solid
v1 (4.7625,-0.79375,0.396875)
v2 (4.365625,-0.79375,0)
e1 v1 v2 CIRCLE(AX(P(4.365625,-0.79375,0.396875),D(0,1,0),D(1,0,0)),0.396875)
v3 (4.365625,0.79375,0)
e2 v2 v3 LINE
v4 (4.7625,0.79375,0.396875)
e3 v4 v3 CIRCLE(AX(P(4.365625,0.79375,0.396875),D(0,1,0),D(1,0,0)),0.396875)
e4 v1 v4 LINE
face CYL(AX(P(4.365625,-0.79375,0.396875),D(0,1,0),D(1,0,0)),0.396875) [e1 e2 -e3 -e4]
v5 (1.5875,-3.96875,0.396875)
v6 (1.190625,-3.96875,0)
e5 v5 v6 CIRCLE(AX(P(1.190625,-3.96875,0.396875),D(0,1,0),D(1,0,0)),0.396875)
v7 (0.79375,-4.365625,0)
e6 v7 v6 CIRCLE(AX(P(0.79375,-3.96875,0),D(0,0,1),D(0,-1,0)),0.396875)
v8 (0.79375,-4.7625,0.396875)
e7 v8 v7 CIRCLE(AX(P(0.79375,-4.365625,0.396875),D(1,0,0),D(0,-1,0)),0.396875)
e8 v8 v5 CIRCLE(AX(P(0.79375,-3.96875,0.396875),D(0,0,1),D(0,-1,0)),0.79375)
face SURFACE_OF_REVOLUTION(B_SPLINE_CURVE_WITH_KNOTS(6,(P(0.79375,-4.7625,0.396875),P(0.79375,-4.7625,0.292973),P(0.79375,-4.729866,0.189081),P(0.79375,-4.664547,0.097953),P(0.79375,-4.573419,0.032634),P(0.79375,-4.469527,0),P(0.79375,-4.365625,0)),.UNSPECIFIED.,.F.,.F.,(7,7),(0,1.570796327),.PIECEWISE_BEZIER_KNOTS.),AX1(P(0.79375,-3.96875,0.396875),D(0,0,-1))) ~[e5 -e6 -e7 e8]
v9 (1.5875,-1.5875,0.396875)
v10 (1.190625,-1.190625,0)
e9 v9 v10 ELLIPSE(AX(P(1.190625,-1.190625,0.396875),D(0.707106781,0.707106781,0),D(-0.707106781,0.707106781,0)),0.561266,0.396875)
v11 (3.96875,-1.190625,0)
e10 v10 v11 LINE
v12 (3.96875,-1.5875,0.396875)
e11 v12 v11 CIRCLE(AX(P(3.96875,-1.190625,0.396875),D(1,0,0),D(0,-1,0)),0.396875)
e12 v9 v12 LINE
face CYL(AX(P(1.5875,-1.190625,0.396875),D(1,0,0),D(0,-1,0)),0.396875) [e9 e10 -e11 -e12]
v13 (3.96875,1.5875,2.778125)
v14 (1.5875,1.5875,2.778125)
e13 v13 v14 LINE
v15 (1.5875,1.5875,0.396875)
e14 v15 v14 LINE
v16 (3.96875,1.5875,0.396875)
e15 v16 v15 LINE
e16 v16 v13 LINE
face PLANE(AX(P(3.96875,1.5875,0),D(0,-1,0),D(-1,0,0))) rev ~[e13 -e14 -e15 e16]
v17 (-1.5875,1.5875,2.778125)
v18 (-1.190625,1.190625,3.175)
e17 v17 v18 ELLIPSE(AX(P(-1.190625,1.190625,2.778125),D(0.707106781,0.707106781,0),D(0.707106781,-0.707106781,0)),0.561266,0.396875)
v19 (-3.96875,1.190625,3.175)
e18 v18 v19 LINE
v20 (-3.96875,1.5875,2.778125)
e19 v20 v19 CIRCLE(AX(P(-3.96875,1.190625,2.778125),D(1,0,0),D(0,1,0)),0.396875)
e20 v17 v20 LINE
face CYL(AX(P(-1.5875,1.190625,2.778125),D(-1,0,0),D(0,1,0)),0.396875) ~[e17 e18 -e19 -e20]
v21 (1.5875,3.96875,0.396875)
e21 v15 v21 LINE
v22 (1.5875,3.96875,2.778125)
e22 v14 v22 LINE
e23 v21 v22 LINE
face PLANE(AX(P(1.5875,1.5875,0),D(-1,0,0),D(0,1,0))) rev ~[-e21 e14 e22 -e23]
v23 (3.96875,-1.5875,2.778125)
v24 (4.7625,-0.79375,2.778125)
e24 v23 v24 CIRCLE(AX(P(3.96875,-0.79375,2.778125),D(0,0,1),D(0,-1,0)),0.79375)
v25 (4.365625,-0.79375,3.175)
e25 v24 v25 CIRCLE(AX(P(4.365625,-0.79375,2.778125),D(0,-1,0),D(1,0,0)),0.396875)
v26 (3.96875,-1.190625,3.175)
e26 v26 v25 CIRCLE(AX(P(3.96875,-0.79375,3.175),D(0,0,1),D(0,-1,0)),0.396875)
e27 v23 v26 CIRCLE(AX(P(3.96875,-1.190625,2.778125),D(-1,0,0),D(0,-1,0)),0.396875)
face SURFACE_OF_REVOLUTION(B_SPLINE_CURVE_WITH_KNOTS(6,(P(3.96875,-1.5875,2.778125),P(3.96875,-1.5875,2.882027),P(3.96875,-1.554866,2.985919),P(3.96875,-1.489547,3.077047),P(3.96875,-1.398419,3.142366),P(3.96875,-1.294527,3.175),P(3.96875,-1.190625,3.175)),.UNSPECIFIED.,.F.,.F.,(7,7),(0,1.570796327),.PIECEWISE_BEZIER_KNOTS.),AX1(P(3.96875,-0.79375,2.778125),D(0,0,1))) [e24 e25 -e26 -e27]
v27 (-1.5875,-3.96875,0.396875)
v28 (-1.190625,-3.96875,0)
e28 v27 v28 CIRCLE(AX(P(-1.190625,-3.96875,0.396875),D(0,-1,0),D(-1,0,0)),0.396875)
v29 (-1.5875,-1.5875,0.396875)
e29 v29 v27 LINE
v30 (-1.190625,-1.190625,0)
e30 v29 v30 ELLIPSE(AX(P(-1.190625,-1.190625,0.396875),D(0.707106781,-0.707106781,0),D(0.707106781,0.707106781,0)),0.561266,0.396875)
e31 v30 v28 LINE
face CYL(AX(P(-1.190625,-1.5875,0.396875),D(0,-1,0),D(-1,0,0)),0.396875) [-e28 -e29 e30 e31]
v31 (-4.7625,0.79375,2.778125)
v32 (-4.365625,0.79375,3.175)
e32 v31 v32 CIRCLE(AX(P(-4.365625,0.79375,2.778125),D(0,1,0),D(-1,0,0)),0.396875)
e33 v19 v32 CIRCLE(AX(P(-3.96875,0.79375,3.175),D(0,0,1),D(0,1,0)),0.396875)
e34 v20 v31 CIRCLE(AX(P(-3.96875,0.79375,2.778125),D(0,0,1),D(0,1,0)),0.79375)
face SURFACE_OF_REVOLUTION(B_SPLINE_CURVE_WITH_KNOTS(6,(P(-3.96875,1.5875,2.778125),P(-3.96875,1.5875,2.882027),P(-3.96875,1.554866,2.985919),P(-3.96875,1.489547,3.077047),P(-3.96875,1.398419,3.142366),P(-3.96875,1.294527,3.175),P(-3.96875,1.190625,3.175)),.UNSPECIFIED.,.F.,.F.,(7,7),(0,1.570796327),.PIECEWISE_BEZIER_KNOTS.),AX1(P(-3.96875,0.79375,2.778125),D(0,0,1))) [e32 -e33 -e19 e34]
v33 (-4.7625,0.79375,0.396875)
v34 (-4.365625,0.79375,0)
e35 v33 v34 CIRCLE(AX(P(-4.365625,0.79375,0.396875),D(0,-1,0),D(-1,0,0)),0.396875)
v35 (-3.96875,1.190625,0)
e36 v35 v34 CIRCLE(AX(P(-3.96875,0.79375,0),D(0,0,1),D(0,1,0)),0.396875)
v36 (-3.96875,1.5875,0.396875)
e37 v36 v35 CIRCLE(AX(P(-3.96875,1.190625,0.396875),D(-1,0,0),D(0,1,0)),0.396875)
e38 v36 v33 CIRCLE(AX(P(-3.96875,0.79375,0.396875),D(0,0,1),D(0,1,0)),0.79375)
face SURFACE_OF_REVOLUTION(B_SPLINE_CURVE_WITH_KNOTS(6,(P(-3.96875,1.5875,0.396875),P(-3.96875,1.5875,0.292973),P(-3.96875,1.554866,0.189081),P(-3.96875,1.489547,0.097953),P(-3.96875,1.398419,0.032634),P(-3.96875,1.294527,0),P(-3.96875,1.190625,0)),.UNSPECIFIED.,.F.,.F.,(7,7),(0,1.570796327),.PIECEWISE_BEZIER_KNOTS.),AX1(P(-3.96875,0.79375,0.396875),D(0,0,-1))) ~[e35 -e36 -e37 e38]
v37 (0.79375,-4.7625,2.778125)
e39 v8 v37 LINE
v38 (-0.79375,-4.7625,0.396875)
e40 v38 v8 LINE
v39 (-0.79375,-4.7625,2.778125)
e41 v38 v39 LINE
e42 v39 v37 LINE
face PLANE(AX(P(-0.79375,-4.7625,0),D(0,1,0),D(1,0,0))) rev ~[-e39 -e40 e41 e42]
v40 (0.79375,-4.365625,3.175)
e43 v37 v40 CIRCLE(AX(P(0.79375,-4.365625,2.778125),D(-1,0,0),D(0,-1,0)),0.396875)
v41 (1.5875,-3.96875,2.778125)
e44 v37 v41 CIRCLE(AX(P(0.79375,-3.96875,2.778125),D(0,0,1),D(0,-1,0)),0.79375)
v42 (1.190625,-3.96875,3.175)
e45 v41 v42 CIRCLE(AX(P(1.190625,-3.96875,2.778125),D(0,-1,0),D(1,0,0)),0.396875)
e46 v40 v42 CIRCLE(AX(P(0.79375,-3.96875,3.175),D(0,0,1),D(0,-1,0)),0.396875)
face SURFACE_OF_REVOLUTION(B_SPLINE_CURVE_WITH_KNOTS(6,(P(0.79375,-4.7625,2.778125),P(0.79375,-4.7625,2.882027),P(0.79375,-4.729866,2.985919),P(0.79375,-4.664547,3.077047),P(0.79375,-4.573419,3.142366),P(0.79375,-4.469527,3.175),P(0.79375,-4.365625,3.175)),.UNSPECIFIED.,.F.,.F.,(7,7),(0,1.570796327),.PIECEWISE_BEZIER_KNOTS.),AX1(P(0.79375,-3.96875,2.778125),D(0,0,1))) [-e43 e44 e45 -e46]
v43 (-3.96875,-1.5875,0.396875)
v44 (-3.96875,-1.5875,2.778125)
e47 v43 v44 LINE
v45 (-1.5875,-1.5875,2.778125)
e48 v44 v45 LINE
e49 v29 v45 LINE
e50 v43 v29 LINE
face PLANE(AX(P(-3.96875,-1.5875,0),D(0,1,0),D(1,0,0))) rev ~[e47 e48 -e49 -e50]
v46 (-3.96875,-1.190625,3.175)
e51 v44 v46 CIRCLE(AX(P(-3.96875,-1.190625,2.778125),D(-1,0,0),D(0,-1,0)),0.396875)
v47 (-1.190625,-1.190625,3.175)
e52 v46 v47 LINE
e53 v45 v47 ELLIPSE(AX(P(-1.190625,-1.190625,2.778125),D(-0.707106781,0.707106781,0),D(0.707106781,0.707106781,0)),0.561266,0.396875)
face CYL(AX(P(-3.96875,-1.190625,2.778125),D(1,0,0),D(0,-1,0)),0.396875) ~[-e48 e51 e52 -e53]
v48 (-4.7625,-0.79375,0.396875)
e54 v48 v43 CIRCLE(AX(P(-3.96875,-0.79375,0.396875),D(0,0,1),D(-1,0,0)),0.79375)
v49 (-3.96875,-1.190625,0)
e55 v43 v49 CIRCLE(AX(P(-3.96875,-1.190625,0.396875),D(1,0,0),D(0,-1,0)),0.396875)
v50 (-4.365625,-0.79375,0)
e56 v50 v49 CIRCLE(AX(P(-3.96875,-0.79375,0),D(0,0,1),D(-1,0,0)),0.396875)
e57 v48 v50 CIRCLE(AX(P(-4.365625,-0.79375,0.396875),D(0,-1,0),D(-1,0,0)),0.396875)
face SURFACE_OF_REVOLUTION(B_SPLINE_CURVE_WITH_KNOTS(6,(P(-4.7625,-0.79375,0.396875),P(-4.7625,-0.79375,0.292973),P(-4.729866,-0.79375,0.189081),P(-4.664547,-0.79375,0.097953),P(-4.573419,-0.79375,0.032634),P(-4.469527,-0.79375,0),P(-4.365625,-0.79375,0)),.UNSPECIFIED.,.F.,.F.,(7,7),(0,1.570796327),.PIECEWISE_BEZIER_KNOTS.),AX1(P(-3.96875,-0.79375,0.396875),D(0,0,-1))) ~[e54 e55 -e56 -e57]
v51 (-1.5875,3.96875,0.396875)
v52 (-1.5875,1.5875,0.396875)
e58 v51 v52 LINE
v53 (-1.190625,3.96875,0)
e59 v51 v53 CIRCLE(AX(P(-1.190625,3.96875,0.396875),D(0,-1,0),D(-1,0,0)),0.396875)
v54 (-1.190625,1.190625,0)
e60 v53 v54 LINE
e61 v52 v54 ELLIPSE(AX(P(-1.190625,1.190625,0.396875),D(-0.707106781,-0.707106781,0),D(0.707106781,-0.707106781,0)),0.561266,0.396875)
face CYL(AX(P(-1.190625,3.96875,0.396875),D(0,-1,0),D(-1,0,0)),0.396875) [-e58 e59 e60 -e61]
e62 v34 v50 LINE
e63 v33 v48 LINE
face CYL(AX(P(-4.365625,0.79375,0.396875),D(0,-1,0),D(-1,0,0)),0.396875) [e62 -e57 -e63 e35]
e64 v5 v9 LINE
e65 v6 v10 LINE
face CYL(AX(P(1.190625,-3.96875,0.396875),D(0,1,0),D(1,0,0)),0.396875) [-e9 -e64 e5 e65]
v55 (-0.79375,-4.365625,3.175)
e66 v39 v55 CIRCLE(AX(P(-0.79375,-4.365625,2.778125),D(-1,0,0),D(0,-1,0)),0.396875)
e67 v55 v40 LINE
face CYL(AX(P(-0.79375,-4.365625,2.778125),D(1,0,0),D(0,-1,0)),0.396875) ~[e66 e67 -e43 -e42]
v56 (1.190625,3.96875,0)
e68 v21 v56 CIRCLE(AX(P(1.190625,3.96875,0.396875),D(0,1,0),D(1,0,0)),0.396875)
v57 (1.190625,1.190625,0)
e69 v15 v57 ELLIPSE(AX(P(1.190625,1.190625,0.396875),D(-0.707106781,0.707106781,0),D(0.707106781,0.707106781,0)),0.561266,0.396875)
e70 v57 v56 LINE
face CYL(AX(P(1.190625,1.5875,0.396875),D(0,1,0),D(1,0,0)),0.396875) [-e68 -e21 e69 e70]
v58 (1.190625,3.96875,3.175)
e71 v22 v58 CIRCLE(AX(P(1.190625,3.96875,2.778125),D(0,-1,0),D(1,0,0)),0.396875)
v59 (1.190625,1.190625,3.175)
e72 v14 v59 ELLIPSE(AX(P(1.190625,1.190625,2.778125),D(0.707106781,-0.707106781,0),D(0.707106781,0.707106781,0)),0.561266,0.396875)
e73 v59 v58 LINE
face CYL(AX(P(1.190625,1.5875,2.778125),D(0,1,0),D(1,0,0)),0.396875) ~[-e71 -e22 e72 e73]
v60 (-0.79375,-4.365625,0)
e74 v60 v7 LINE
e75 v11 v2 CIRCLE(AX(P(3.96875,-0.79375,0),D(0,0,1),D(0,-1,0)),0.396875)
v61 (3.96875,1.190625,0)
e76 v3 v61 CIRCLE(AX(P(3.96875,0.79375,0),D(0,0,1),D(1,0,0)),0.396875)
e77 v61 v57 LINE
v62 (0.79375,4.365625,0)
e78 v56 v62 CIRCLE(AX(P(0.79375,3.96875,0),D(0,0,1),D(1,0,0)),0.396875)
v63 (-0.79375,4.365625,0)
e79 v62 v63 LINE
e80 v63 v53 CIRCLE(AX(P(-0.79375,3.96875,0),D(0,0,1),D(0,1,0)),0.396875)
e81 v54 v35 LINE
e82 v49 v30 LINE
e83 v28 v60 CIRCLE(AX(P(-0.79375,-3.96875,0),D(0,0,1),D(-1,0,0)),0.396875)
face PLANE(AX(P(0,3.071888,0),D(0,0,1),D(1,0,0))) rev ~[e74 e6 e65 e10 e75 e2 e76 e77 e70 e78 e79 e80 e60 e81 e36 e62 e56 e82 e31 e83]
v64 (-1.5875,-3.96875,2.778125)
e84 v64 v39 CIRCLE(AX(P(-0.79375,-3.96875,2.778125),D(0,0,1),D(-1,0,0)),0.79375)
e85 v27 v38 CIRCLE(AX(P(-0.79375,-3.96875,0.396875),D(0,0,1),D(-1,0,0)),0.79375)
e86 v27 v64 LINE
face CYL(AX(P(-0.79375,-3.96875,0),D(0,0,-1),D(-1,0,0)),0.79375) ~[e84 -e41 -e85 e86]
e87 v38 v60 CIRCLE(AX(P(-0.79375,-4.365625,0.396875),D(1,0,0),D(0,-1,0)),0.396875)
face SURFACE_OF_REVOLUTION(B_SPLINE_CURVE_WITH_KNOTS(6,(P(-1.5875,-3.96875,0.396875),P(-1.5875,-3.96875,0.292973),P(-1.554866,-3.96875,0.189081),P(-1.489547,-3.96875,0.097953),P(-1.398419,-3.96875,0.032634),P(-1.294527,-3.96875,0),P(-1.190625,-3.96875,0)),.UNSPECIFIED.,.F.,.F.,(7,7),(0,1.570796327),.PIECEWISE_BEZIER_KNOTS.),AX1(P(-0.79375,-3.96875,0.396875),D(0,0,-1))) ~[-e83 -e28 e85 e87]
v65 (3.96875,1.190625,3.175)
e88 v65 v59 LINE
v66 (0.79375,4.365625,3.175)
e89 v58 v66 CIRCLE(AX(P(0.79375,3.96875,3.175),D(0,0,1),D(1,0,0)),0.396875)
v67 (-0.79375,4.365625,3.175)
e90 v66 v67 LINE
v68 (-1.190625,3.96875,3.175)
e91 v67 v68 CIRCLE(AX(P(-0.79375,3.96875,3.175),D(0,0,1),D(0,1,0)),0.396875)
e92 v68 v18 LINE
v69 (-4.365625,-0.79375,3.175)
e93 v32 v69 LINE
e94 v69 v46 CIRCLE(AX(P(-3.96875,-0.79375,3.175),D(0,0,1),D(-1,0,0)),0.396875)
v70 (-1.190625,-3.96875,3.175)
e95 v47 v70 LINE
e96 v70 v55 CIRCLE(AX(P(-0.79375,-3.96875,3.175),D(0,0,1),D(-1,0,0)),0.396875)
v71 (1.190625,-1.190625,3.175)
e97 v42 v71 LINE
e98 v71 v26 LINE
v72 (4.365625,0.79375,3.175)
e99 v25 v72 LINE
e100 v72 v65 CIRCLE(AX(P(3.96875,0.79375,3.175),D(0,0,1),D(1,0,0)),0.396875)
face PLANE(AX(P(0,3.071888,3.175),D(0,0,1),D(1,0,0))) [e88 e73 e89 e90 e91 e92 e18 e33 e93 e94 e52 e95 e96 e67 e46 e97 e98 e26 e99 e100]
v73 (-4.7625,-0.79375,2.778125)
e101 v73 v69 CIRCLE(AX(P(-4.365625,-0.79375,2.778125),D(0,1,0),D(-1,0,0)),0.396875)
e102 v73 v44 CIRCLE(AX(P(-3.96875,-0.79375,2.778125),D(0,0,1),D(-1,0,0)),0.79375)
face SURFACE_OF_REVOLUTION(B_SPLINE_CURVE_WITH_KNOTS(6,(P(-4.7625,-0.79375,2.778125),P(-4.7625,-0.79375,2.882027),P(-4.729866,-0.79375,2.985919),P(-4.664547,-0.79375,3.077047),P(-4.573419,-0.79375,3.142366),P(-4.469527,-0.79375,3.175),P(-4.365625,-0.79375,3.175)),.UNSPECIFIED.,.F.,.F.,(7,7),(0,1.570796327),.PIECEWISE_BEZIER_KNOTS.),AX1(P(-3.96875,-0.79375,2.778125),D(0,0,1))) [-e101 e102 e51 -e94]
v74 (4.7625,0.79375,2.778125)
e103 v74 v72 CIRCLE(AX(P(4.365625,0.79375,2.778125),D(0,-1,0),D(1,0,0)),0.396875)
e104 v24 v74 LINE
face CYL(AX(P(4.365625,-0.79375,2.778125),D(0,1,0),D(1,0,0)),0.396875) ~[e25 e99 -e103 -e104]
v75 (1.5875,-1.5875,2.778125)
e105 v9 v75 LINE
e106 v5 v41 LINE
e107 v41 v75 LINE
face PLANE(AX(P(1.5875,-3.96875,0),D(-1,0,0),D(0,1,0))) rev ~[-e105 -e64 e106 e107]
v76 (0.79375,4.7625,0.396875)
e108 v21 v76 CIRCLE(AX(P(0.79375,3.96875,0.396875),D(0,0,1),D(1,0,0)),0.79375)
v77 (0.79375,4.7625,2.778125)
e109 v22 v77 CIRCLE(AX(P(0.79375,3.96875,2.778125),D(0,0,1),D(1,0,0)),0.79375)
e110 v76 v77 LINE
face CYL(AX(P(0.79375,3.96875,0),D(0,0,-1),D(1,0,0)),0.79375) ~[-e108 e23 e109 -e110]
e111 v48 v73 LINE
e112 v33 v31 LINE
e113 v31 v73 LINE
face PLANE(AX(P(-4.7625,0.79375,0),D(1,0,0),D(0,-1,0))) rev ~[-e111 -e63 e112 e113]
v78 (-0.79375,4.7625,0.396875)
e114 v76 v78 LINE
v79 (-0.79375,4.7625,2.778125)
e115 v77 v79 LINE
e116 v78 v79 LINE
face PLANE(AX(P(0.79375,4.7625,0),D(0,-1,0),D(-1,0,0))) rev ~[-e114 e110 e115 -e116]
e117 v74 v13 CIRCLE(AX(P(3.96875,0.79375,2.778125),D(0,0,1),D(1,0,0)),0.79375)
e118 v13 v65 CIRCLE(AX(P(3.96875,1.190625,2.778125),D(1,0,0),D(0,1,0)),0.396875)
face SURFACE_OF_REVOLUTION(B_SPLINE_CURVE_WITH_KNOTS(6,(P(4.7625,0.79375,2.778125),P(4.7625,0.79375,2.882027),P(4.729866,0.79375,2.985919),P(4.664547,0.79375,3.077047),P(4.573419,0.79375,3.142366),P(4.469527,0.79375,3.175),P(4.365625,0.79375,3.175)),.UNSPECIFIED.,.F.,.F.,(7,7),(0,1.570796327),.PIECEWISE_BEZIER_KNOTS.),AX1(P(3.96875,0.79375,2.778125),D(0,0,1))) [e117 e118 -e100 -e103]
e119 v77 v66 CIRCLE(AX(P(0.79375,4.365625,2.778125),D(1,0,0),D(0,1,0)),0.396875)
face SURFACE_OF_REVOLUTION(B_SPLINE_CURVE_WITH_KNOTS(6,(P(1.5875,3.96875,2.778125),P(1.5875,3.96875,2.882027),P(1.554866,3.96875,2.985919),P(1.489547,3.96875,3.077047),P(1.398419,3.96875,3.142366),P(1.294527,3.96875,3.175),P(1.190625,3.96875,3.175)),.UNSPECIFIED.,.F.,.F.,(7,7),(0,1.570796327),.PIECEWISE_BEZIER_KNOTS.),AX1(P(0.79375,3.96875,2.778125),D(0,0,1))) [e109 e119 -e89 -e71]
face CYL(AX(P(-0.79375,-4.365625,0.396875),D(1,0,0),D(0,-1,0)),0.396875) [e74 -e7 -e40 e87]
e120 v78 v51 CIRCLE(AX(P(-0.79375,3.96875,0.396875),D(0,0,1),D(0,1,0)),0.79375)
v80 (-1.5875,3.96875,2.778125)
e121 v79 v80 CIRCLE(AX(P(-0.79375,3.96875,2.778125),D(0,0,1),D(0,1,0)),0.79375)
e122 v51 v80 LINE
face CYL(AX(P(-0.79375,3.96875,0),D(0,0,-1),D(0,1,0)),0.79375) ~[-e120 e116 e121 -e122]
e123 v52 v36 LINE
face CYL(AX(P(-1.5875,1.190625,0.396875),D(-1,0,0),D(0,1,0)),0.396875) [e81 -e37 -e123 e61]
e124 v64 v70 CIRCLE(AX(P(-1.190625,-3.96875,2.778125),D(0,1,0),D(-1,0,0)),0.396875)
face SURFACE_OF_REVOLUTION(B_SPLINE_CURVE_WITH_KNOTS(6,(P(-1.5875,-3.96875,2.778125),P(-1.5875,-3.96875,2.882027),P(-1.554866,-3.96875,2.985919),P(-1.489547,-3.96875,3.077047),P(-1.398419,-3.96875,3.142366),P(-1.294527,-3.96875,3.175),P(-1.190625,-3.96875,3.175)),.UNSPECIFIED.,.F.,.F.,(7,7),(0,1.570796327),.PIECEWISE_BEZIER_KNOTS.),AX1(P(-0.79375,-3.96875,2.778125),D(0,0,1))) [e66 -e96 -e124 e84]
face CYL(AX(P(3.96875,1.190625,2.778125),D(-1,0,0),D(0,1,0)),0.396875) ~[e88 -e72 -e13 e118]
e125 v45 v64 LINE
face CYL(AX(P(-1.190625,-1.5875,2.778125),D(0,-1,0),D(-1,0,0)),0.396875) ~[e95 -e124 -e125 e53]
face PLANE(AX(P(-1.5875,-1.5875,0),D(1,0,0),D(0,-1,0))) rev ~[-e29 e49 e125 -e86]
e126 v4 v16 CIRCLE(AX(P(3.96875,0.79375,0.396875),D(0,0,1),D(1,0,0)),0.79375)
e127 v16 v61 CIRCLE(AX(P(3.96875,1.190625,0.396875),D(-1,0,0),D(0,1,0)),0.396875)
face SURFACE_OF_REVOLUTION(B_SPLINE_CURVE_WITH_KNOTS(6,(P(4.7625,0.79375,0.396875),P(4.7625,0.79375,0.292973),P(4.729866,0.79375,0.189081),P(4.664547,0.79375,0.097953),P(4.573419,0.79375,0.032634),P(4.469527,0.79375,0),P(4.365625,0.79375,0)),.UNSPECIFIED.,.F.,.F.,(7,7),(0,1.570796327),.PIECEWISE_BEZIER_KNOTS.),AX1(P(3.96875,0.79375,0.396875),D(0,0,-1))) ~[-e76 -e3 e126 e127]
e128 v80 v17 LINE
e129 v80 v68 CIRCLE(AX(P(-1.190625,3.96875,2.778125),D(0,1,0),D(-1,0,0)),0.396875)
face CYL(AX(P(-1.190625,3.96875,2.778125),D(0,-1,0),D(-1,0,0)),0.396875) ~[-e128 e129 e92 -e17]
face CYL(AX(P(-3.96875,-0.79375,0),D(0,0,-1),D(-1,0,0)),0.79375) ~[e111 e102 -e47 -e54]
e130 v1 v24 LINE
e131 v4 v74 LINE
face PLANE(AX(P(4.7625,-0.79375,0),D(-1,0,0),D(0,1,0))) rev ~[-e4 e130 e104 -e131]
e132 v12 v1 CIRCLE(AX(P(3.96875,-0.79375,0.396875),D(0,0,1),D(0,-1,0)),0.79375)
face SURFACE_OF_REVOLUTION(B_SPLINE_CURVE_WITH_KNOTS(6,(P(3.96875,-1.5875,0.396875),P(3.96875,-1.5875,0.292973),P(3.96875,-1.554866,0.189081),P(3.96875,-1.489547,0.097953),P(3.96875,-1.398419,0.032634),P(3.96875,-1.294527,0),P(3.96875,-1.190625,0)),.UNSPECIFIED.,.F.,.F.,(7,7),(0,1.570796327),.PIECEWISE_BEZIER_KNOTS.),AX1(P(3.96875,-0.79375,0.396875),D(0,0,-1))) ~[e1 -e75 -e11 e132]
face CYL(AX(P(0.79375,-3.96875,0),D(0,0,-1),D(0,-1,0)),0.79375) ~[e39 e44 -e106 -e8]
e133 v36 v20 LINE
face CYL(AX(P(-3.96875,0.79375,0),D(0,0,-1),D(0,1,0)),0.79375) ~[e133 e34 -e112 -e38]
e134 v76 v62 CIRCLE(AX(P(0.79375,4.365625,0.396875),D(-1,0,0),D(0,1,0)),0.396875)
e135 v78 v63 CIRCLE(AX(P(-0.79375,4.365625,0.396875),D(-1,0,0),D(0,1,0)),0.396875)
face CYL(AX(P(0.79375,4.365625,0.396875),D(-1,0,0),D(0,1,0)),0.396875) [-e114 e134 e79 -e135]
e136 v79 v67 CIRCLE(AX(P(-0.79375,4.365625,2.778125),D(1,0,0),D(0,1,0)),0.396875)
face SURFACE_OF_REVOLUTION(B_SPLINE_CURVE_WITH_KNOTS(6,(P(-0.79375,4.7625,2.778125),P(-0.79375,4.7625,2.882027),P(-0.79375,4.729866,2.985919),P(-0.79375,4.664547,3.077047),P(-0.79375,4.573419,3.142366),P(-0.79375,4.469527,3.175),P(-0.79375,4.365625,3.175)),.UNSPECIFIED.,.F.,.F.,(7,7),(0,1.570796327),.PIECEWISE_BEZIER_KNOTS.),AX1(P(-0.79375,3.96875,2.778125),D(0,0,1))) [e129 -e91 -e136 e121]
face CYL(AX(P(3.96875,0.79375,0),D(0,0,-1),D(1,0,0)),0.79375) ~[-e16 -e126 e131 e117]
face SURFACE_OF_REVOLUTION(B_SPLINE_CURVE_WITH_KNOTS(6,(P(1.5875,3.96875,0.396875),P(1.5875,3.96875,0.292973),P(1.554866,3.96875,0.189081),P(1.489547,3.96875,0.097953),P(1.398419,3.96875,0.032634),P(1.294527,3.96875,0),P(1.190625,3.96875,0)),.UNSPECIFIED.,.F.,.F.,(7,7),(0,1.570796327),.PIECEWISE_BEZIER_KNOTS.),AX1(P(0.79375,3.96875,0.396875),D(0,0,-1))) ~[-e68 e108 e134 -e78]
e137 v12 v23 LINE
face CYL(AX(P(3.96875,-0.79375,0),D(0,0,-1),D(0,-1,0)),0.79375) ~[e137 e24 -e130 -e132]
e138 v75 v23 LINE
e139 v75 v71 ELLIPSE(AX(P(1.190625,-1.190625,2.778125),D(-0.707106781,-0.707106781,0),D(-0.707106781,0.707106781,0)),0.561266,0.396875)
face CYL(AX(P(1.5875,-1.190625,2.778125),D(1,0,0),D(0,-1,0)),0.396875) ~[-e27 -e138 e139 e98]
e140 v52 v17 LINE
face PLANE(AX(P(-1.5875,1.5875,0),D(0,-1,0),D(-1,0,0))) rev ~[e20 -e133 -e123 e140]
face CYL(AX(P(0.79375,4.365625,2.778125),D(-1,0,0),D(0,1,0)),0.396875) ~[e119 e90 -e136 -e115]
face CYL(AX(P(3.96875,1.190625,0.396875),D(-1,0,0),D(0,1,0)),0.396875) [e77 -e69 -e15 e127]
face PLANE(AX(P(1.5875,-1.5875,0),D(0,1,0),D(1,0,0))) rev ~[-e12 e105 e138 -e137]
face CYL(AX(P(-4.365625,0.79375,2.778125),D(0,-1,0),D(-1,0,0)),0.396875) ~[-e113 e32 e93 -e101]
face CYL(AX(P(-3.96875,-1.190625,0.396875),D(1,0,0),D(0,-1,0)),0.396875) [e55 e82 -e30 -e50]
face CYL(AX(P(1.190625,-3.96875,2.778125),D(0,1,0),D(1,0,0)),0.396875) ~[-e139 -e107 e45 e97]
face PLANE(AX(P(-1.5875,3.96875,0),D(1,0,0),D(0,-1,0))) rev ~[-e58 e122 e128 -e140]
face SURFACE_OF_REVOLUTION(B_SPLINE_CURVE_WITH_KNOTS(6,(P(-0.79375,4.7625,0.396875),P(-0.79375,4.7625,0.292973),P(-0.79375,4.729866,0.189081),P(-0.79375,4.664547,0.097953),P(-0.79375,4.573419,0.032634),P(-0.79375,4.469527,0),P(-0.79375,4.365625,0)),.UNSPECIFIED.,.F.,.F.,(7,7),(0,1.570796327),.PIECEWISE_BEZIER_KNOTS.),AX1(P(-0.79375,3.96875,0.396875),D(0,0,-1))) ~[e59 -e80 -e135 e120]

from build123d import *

# Parameters (mm, degrees)
F0_W     = 3.175
F0_H     = 3.175
F1_DEPTH = 3.175
F2_R     = 0.396875


with BuildPart() as f1:
    # F0 (on Top) → F1 (new body)
    with BuildSketch(Plane.XY):
        with BuildLine():
            ThreePointArc((1.5875, 3.96875), (1.3550160076, 4.5300160076), (0.79375, 4.7625))
            Line((0.79375, 4.7625), (-0.79375, 4.7625))
            ThreePointArc((-0.79375, 4.7625), (-1.3550160076, 4.5300160076), (-1.5875, 3.96875))
            Line((-1.5875, 3.96875), (-1.5875, 1.5875))
            Line((-1.5875, 1.5875), (1.5875, 1.5875))
            Line((1.5875, 1.5875), (1.5875, 3.96875))
        make_face()
        with BuildLine():
            Line((3.96875, 1.5875), (1.5875, 1.5875))
            Line((1.5875, 1.5875), (1.5875, -1.5875))
            Line((1.5875, -1.5875), (3.96875, -1.5875))
            ThreePointArc((3.96875, -1.5875), (4.5300160076, -1.3550160076), (4.7625, -0.79375))
            Line((4.7625, -0.79375), (4.7625, 0.79375))
            ThreePointArc((4.7625, 0.79375), (4.5300160076, 1.3550160076), (3.96875, 1.5875))
        make_face()
        Rectangle(F0_W, F0_H)
        with BuildLine():
            Line((-1.5875, -1.5875), (-1.5875, 1.5875))
            Line((-1.5875, 1.5875), (-3.96875, 1.5875))
            ThreePointArc((-3.96875, 1.5875), (-4.5300160076, 1.3550160076), (-4.7625, 0.79375))
            Line((-4.7625, 0.79375), (-4.7625, -0.79375))
            ThreePointArc((-4.7625, -0.79375), (-4.5300160076, -1.3550160076), (-3.96875, -1.5875))
            Line((-3.96875, -1.5875), (-1.5875, -1.5875))
        make_face()
        with BuildLine():
            Line((1.5875, -3.96875), (1.5875, -1.5875))
            Line((1.5875, -1.5875), (-1.5875, -1.5875))
            Line((-1.5875, -1.5875), (-1.5875, -3.96875))
            ThreePointArc((-1.5875, -3.96875), (-1.3550160076, -4.5300160076), (-0.79375, -4.7625))
            Line((-0.79375, -4.7625), (0.79375, -4.7625))
            ThreePointArc((0.79375, -4.7625), (1.3550160076, -4.5300160076), (1.5875, -3.96875))
        make_face()
    extrude(amount=F1_DEPTH)

    # F2
    f2_edges = [f1.edges().sort_by_distance(p)[0] for p in [
        (1.355016, 4.530016, 3.175),
        (0, 4.7625, 3.175),
        (-1.355016, 4.530016, 3.175),
        (-1.5875, 2.778125, 3.175),
        (-2.778125, 1.5875, 3.175),
        (-4.530016, 1.355016, 3.175),
        (-4.7625, 0, 3.175),
        (-4.530016, -1.355016, 3.175),
        (-2.778125, -1.5875, 3.175),
        (-1.5875, -2.778125, 3.175),
        (-1.355016, -4.530016, 3.175),
        (0, -4.7625, 3.175),
        (1.355016, -4.530016, 3.175),
        (1.5875, -2.778125, 3.175),
        (2.778125, -1.5875, 3.175),
        (4.530016, -1.355016, 3.175),
        (4.7625, 0, 3.175),
        (4.530016, 1.355016, 3.175),
        (2.778125, 1.5875, 3.175),
        (1.5875, 2.778125, 3.175),
        (1.355016, 4.530016, 0),
        (0, 4.7625, 0),
        (-1.355016, 4.530016, 0),
        (-1.5875, 2.778125, 0),
        (-2.778125, 1.5875, 0),
        (-4.530016, 1.355016, 0),
        (-4.7625, 0, 0),
        (-4.530016, -1.355016, 0),
        (-2.778125, -1.5875, 0),
        (-1.5875, -2.778125, 0),
        (-1.355016, -4.530016, 0),
        (0, -4.7625, 0),
        (1.355016, -4.530016, 0),
        (1.5875, -2.778125, 0),
        (2.778125, -1.5875, 0),
        (4.530016, -1.355016, 0),
        (4.7625, 0, 0),
        (4.530016, 1.355016, 0),
        (2.778125, 1.5875, 0),
        (1.5875, 2.778125, 0),
    ]]
    fillet(f2_edges, radius=F2_R)


solid = f1.part
